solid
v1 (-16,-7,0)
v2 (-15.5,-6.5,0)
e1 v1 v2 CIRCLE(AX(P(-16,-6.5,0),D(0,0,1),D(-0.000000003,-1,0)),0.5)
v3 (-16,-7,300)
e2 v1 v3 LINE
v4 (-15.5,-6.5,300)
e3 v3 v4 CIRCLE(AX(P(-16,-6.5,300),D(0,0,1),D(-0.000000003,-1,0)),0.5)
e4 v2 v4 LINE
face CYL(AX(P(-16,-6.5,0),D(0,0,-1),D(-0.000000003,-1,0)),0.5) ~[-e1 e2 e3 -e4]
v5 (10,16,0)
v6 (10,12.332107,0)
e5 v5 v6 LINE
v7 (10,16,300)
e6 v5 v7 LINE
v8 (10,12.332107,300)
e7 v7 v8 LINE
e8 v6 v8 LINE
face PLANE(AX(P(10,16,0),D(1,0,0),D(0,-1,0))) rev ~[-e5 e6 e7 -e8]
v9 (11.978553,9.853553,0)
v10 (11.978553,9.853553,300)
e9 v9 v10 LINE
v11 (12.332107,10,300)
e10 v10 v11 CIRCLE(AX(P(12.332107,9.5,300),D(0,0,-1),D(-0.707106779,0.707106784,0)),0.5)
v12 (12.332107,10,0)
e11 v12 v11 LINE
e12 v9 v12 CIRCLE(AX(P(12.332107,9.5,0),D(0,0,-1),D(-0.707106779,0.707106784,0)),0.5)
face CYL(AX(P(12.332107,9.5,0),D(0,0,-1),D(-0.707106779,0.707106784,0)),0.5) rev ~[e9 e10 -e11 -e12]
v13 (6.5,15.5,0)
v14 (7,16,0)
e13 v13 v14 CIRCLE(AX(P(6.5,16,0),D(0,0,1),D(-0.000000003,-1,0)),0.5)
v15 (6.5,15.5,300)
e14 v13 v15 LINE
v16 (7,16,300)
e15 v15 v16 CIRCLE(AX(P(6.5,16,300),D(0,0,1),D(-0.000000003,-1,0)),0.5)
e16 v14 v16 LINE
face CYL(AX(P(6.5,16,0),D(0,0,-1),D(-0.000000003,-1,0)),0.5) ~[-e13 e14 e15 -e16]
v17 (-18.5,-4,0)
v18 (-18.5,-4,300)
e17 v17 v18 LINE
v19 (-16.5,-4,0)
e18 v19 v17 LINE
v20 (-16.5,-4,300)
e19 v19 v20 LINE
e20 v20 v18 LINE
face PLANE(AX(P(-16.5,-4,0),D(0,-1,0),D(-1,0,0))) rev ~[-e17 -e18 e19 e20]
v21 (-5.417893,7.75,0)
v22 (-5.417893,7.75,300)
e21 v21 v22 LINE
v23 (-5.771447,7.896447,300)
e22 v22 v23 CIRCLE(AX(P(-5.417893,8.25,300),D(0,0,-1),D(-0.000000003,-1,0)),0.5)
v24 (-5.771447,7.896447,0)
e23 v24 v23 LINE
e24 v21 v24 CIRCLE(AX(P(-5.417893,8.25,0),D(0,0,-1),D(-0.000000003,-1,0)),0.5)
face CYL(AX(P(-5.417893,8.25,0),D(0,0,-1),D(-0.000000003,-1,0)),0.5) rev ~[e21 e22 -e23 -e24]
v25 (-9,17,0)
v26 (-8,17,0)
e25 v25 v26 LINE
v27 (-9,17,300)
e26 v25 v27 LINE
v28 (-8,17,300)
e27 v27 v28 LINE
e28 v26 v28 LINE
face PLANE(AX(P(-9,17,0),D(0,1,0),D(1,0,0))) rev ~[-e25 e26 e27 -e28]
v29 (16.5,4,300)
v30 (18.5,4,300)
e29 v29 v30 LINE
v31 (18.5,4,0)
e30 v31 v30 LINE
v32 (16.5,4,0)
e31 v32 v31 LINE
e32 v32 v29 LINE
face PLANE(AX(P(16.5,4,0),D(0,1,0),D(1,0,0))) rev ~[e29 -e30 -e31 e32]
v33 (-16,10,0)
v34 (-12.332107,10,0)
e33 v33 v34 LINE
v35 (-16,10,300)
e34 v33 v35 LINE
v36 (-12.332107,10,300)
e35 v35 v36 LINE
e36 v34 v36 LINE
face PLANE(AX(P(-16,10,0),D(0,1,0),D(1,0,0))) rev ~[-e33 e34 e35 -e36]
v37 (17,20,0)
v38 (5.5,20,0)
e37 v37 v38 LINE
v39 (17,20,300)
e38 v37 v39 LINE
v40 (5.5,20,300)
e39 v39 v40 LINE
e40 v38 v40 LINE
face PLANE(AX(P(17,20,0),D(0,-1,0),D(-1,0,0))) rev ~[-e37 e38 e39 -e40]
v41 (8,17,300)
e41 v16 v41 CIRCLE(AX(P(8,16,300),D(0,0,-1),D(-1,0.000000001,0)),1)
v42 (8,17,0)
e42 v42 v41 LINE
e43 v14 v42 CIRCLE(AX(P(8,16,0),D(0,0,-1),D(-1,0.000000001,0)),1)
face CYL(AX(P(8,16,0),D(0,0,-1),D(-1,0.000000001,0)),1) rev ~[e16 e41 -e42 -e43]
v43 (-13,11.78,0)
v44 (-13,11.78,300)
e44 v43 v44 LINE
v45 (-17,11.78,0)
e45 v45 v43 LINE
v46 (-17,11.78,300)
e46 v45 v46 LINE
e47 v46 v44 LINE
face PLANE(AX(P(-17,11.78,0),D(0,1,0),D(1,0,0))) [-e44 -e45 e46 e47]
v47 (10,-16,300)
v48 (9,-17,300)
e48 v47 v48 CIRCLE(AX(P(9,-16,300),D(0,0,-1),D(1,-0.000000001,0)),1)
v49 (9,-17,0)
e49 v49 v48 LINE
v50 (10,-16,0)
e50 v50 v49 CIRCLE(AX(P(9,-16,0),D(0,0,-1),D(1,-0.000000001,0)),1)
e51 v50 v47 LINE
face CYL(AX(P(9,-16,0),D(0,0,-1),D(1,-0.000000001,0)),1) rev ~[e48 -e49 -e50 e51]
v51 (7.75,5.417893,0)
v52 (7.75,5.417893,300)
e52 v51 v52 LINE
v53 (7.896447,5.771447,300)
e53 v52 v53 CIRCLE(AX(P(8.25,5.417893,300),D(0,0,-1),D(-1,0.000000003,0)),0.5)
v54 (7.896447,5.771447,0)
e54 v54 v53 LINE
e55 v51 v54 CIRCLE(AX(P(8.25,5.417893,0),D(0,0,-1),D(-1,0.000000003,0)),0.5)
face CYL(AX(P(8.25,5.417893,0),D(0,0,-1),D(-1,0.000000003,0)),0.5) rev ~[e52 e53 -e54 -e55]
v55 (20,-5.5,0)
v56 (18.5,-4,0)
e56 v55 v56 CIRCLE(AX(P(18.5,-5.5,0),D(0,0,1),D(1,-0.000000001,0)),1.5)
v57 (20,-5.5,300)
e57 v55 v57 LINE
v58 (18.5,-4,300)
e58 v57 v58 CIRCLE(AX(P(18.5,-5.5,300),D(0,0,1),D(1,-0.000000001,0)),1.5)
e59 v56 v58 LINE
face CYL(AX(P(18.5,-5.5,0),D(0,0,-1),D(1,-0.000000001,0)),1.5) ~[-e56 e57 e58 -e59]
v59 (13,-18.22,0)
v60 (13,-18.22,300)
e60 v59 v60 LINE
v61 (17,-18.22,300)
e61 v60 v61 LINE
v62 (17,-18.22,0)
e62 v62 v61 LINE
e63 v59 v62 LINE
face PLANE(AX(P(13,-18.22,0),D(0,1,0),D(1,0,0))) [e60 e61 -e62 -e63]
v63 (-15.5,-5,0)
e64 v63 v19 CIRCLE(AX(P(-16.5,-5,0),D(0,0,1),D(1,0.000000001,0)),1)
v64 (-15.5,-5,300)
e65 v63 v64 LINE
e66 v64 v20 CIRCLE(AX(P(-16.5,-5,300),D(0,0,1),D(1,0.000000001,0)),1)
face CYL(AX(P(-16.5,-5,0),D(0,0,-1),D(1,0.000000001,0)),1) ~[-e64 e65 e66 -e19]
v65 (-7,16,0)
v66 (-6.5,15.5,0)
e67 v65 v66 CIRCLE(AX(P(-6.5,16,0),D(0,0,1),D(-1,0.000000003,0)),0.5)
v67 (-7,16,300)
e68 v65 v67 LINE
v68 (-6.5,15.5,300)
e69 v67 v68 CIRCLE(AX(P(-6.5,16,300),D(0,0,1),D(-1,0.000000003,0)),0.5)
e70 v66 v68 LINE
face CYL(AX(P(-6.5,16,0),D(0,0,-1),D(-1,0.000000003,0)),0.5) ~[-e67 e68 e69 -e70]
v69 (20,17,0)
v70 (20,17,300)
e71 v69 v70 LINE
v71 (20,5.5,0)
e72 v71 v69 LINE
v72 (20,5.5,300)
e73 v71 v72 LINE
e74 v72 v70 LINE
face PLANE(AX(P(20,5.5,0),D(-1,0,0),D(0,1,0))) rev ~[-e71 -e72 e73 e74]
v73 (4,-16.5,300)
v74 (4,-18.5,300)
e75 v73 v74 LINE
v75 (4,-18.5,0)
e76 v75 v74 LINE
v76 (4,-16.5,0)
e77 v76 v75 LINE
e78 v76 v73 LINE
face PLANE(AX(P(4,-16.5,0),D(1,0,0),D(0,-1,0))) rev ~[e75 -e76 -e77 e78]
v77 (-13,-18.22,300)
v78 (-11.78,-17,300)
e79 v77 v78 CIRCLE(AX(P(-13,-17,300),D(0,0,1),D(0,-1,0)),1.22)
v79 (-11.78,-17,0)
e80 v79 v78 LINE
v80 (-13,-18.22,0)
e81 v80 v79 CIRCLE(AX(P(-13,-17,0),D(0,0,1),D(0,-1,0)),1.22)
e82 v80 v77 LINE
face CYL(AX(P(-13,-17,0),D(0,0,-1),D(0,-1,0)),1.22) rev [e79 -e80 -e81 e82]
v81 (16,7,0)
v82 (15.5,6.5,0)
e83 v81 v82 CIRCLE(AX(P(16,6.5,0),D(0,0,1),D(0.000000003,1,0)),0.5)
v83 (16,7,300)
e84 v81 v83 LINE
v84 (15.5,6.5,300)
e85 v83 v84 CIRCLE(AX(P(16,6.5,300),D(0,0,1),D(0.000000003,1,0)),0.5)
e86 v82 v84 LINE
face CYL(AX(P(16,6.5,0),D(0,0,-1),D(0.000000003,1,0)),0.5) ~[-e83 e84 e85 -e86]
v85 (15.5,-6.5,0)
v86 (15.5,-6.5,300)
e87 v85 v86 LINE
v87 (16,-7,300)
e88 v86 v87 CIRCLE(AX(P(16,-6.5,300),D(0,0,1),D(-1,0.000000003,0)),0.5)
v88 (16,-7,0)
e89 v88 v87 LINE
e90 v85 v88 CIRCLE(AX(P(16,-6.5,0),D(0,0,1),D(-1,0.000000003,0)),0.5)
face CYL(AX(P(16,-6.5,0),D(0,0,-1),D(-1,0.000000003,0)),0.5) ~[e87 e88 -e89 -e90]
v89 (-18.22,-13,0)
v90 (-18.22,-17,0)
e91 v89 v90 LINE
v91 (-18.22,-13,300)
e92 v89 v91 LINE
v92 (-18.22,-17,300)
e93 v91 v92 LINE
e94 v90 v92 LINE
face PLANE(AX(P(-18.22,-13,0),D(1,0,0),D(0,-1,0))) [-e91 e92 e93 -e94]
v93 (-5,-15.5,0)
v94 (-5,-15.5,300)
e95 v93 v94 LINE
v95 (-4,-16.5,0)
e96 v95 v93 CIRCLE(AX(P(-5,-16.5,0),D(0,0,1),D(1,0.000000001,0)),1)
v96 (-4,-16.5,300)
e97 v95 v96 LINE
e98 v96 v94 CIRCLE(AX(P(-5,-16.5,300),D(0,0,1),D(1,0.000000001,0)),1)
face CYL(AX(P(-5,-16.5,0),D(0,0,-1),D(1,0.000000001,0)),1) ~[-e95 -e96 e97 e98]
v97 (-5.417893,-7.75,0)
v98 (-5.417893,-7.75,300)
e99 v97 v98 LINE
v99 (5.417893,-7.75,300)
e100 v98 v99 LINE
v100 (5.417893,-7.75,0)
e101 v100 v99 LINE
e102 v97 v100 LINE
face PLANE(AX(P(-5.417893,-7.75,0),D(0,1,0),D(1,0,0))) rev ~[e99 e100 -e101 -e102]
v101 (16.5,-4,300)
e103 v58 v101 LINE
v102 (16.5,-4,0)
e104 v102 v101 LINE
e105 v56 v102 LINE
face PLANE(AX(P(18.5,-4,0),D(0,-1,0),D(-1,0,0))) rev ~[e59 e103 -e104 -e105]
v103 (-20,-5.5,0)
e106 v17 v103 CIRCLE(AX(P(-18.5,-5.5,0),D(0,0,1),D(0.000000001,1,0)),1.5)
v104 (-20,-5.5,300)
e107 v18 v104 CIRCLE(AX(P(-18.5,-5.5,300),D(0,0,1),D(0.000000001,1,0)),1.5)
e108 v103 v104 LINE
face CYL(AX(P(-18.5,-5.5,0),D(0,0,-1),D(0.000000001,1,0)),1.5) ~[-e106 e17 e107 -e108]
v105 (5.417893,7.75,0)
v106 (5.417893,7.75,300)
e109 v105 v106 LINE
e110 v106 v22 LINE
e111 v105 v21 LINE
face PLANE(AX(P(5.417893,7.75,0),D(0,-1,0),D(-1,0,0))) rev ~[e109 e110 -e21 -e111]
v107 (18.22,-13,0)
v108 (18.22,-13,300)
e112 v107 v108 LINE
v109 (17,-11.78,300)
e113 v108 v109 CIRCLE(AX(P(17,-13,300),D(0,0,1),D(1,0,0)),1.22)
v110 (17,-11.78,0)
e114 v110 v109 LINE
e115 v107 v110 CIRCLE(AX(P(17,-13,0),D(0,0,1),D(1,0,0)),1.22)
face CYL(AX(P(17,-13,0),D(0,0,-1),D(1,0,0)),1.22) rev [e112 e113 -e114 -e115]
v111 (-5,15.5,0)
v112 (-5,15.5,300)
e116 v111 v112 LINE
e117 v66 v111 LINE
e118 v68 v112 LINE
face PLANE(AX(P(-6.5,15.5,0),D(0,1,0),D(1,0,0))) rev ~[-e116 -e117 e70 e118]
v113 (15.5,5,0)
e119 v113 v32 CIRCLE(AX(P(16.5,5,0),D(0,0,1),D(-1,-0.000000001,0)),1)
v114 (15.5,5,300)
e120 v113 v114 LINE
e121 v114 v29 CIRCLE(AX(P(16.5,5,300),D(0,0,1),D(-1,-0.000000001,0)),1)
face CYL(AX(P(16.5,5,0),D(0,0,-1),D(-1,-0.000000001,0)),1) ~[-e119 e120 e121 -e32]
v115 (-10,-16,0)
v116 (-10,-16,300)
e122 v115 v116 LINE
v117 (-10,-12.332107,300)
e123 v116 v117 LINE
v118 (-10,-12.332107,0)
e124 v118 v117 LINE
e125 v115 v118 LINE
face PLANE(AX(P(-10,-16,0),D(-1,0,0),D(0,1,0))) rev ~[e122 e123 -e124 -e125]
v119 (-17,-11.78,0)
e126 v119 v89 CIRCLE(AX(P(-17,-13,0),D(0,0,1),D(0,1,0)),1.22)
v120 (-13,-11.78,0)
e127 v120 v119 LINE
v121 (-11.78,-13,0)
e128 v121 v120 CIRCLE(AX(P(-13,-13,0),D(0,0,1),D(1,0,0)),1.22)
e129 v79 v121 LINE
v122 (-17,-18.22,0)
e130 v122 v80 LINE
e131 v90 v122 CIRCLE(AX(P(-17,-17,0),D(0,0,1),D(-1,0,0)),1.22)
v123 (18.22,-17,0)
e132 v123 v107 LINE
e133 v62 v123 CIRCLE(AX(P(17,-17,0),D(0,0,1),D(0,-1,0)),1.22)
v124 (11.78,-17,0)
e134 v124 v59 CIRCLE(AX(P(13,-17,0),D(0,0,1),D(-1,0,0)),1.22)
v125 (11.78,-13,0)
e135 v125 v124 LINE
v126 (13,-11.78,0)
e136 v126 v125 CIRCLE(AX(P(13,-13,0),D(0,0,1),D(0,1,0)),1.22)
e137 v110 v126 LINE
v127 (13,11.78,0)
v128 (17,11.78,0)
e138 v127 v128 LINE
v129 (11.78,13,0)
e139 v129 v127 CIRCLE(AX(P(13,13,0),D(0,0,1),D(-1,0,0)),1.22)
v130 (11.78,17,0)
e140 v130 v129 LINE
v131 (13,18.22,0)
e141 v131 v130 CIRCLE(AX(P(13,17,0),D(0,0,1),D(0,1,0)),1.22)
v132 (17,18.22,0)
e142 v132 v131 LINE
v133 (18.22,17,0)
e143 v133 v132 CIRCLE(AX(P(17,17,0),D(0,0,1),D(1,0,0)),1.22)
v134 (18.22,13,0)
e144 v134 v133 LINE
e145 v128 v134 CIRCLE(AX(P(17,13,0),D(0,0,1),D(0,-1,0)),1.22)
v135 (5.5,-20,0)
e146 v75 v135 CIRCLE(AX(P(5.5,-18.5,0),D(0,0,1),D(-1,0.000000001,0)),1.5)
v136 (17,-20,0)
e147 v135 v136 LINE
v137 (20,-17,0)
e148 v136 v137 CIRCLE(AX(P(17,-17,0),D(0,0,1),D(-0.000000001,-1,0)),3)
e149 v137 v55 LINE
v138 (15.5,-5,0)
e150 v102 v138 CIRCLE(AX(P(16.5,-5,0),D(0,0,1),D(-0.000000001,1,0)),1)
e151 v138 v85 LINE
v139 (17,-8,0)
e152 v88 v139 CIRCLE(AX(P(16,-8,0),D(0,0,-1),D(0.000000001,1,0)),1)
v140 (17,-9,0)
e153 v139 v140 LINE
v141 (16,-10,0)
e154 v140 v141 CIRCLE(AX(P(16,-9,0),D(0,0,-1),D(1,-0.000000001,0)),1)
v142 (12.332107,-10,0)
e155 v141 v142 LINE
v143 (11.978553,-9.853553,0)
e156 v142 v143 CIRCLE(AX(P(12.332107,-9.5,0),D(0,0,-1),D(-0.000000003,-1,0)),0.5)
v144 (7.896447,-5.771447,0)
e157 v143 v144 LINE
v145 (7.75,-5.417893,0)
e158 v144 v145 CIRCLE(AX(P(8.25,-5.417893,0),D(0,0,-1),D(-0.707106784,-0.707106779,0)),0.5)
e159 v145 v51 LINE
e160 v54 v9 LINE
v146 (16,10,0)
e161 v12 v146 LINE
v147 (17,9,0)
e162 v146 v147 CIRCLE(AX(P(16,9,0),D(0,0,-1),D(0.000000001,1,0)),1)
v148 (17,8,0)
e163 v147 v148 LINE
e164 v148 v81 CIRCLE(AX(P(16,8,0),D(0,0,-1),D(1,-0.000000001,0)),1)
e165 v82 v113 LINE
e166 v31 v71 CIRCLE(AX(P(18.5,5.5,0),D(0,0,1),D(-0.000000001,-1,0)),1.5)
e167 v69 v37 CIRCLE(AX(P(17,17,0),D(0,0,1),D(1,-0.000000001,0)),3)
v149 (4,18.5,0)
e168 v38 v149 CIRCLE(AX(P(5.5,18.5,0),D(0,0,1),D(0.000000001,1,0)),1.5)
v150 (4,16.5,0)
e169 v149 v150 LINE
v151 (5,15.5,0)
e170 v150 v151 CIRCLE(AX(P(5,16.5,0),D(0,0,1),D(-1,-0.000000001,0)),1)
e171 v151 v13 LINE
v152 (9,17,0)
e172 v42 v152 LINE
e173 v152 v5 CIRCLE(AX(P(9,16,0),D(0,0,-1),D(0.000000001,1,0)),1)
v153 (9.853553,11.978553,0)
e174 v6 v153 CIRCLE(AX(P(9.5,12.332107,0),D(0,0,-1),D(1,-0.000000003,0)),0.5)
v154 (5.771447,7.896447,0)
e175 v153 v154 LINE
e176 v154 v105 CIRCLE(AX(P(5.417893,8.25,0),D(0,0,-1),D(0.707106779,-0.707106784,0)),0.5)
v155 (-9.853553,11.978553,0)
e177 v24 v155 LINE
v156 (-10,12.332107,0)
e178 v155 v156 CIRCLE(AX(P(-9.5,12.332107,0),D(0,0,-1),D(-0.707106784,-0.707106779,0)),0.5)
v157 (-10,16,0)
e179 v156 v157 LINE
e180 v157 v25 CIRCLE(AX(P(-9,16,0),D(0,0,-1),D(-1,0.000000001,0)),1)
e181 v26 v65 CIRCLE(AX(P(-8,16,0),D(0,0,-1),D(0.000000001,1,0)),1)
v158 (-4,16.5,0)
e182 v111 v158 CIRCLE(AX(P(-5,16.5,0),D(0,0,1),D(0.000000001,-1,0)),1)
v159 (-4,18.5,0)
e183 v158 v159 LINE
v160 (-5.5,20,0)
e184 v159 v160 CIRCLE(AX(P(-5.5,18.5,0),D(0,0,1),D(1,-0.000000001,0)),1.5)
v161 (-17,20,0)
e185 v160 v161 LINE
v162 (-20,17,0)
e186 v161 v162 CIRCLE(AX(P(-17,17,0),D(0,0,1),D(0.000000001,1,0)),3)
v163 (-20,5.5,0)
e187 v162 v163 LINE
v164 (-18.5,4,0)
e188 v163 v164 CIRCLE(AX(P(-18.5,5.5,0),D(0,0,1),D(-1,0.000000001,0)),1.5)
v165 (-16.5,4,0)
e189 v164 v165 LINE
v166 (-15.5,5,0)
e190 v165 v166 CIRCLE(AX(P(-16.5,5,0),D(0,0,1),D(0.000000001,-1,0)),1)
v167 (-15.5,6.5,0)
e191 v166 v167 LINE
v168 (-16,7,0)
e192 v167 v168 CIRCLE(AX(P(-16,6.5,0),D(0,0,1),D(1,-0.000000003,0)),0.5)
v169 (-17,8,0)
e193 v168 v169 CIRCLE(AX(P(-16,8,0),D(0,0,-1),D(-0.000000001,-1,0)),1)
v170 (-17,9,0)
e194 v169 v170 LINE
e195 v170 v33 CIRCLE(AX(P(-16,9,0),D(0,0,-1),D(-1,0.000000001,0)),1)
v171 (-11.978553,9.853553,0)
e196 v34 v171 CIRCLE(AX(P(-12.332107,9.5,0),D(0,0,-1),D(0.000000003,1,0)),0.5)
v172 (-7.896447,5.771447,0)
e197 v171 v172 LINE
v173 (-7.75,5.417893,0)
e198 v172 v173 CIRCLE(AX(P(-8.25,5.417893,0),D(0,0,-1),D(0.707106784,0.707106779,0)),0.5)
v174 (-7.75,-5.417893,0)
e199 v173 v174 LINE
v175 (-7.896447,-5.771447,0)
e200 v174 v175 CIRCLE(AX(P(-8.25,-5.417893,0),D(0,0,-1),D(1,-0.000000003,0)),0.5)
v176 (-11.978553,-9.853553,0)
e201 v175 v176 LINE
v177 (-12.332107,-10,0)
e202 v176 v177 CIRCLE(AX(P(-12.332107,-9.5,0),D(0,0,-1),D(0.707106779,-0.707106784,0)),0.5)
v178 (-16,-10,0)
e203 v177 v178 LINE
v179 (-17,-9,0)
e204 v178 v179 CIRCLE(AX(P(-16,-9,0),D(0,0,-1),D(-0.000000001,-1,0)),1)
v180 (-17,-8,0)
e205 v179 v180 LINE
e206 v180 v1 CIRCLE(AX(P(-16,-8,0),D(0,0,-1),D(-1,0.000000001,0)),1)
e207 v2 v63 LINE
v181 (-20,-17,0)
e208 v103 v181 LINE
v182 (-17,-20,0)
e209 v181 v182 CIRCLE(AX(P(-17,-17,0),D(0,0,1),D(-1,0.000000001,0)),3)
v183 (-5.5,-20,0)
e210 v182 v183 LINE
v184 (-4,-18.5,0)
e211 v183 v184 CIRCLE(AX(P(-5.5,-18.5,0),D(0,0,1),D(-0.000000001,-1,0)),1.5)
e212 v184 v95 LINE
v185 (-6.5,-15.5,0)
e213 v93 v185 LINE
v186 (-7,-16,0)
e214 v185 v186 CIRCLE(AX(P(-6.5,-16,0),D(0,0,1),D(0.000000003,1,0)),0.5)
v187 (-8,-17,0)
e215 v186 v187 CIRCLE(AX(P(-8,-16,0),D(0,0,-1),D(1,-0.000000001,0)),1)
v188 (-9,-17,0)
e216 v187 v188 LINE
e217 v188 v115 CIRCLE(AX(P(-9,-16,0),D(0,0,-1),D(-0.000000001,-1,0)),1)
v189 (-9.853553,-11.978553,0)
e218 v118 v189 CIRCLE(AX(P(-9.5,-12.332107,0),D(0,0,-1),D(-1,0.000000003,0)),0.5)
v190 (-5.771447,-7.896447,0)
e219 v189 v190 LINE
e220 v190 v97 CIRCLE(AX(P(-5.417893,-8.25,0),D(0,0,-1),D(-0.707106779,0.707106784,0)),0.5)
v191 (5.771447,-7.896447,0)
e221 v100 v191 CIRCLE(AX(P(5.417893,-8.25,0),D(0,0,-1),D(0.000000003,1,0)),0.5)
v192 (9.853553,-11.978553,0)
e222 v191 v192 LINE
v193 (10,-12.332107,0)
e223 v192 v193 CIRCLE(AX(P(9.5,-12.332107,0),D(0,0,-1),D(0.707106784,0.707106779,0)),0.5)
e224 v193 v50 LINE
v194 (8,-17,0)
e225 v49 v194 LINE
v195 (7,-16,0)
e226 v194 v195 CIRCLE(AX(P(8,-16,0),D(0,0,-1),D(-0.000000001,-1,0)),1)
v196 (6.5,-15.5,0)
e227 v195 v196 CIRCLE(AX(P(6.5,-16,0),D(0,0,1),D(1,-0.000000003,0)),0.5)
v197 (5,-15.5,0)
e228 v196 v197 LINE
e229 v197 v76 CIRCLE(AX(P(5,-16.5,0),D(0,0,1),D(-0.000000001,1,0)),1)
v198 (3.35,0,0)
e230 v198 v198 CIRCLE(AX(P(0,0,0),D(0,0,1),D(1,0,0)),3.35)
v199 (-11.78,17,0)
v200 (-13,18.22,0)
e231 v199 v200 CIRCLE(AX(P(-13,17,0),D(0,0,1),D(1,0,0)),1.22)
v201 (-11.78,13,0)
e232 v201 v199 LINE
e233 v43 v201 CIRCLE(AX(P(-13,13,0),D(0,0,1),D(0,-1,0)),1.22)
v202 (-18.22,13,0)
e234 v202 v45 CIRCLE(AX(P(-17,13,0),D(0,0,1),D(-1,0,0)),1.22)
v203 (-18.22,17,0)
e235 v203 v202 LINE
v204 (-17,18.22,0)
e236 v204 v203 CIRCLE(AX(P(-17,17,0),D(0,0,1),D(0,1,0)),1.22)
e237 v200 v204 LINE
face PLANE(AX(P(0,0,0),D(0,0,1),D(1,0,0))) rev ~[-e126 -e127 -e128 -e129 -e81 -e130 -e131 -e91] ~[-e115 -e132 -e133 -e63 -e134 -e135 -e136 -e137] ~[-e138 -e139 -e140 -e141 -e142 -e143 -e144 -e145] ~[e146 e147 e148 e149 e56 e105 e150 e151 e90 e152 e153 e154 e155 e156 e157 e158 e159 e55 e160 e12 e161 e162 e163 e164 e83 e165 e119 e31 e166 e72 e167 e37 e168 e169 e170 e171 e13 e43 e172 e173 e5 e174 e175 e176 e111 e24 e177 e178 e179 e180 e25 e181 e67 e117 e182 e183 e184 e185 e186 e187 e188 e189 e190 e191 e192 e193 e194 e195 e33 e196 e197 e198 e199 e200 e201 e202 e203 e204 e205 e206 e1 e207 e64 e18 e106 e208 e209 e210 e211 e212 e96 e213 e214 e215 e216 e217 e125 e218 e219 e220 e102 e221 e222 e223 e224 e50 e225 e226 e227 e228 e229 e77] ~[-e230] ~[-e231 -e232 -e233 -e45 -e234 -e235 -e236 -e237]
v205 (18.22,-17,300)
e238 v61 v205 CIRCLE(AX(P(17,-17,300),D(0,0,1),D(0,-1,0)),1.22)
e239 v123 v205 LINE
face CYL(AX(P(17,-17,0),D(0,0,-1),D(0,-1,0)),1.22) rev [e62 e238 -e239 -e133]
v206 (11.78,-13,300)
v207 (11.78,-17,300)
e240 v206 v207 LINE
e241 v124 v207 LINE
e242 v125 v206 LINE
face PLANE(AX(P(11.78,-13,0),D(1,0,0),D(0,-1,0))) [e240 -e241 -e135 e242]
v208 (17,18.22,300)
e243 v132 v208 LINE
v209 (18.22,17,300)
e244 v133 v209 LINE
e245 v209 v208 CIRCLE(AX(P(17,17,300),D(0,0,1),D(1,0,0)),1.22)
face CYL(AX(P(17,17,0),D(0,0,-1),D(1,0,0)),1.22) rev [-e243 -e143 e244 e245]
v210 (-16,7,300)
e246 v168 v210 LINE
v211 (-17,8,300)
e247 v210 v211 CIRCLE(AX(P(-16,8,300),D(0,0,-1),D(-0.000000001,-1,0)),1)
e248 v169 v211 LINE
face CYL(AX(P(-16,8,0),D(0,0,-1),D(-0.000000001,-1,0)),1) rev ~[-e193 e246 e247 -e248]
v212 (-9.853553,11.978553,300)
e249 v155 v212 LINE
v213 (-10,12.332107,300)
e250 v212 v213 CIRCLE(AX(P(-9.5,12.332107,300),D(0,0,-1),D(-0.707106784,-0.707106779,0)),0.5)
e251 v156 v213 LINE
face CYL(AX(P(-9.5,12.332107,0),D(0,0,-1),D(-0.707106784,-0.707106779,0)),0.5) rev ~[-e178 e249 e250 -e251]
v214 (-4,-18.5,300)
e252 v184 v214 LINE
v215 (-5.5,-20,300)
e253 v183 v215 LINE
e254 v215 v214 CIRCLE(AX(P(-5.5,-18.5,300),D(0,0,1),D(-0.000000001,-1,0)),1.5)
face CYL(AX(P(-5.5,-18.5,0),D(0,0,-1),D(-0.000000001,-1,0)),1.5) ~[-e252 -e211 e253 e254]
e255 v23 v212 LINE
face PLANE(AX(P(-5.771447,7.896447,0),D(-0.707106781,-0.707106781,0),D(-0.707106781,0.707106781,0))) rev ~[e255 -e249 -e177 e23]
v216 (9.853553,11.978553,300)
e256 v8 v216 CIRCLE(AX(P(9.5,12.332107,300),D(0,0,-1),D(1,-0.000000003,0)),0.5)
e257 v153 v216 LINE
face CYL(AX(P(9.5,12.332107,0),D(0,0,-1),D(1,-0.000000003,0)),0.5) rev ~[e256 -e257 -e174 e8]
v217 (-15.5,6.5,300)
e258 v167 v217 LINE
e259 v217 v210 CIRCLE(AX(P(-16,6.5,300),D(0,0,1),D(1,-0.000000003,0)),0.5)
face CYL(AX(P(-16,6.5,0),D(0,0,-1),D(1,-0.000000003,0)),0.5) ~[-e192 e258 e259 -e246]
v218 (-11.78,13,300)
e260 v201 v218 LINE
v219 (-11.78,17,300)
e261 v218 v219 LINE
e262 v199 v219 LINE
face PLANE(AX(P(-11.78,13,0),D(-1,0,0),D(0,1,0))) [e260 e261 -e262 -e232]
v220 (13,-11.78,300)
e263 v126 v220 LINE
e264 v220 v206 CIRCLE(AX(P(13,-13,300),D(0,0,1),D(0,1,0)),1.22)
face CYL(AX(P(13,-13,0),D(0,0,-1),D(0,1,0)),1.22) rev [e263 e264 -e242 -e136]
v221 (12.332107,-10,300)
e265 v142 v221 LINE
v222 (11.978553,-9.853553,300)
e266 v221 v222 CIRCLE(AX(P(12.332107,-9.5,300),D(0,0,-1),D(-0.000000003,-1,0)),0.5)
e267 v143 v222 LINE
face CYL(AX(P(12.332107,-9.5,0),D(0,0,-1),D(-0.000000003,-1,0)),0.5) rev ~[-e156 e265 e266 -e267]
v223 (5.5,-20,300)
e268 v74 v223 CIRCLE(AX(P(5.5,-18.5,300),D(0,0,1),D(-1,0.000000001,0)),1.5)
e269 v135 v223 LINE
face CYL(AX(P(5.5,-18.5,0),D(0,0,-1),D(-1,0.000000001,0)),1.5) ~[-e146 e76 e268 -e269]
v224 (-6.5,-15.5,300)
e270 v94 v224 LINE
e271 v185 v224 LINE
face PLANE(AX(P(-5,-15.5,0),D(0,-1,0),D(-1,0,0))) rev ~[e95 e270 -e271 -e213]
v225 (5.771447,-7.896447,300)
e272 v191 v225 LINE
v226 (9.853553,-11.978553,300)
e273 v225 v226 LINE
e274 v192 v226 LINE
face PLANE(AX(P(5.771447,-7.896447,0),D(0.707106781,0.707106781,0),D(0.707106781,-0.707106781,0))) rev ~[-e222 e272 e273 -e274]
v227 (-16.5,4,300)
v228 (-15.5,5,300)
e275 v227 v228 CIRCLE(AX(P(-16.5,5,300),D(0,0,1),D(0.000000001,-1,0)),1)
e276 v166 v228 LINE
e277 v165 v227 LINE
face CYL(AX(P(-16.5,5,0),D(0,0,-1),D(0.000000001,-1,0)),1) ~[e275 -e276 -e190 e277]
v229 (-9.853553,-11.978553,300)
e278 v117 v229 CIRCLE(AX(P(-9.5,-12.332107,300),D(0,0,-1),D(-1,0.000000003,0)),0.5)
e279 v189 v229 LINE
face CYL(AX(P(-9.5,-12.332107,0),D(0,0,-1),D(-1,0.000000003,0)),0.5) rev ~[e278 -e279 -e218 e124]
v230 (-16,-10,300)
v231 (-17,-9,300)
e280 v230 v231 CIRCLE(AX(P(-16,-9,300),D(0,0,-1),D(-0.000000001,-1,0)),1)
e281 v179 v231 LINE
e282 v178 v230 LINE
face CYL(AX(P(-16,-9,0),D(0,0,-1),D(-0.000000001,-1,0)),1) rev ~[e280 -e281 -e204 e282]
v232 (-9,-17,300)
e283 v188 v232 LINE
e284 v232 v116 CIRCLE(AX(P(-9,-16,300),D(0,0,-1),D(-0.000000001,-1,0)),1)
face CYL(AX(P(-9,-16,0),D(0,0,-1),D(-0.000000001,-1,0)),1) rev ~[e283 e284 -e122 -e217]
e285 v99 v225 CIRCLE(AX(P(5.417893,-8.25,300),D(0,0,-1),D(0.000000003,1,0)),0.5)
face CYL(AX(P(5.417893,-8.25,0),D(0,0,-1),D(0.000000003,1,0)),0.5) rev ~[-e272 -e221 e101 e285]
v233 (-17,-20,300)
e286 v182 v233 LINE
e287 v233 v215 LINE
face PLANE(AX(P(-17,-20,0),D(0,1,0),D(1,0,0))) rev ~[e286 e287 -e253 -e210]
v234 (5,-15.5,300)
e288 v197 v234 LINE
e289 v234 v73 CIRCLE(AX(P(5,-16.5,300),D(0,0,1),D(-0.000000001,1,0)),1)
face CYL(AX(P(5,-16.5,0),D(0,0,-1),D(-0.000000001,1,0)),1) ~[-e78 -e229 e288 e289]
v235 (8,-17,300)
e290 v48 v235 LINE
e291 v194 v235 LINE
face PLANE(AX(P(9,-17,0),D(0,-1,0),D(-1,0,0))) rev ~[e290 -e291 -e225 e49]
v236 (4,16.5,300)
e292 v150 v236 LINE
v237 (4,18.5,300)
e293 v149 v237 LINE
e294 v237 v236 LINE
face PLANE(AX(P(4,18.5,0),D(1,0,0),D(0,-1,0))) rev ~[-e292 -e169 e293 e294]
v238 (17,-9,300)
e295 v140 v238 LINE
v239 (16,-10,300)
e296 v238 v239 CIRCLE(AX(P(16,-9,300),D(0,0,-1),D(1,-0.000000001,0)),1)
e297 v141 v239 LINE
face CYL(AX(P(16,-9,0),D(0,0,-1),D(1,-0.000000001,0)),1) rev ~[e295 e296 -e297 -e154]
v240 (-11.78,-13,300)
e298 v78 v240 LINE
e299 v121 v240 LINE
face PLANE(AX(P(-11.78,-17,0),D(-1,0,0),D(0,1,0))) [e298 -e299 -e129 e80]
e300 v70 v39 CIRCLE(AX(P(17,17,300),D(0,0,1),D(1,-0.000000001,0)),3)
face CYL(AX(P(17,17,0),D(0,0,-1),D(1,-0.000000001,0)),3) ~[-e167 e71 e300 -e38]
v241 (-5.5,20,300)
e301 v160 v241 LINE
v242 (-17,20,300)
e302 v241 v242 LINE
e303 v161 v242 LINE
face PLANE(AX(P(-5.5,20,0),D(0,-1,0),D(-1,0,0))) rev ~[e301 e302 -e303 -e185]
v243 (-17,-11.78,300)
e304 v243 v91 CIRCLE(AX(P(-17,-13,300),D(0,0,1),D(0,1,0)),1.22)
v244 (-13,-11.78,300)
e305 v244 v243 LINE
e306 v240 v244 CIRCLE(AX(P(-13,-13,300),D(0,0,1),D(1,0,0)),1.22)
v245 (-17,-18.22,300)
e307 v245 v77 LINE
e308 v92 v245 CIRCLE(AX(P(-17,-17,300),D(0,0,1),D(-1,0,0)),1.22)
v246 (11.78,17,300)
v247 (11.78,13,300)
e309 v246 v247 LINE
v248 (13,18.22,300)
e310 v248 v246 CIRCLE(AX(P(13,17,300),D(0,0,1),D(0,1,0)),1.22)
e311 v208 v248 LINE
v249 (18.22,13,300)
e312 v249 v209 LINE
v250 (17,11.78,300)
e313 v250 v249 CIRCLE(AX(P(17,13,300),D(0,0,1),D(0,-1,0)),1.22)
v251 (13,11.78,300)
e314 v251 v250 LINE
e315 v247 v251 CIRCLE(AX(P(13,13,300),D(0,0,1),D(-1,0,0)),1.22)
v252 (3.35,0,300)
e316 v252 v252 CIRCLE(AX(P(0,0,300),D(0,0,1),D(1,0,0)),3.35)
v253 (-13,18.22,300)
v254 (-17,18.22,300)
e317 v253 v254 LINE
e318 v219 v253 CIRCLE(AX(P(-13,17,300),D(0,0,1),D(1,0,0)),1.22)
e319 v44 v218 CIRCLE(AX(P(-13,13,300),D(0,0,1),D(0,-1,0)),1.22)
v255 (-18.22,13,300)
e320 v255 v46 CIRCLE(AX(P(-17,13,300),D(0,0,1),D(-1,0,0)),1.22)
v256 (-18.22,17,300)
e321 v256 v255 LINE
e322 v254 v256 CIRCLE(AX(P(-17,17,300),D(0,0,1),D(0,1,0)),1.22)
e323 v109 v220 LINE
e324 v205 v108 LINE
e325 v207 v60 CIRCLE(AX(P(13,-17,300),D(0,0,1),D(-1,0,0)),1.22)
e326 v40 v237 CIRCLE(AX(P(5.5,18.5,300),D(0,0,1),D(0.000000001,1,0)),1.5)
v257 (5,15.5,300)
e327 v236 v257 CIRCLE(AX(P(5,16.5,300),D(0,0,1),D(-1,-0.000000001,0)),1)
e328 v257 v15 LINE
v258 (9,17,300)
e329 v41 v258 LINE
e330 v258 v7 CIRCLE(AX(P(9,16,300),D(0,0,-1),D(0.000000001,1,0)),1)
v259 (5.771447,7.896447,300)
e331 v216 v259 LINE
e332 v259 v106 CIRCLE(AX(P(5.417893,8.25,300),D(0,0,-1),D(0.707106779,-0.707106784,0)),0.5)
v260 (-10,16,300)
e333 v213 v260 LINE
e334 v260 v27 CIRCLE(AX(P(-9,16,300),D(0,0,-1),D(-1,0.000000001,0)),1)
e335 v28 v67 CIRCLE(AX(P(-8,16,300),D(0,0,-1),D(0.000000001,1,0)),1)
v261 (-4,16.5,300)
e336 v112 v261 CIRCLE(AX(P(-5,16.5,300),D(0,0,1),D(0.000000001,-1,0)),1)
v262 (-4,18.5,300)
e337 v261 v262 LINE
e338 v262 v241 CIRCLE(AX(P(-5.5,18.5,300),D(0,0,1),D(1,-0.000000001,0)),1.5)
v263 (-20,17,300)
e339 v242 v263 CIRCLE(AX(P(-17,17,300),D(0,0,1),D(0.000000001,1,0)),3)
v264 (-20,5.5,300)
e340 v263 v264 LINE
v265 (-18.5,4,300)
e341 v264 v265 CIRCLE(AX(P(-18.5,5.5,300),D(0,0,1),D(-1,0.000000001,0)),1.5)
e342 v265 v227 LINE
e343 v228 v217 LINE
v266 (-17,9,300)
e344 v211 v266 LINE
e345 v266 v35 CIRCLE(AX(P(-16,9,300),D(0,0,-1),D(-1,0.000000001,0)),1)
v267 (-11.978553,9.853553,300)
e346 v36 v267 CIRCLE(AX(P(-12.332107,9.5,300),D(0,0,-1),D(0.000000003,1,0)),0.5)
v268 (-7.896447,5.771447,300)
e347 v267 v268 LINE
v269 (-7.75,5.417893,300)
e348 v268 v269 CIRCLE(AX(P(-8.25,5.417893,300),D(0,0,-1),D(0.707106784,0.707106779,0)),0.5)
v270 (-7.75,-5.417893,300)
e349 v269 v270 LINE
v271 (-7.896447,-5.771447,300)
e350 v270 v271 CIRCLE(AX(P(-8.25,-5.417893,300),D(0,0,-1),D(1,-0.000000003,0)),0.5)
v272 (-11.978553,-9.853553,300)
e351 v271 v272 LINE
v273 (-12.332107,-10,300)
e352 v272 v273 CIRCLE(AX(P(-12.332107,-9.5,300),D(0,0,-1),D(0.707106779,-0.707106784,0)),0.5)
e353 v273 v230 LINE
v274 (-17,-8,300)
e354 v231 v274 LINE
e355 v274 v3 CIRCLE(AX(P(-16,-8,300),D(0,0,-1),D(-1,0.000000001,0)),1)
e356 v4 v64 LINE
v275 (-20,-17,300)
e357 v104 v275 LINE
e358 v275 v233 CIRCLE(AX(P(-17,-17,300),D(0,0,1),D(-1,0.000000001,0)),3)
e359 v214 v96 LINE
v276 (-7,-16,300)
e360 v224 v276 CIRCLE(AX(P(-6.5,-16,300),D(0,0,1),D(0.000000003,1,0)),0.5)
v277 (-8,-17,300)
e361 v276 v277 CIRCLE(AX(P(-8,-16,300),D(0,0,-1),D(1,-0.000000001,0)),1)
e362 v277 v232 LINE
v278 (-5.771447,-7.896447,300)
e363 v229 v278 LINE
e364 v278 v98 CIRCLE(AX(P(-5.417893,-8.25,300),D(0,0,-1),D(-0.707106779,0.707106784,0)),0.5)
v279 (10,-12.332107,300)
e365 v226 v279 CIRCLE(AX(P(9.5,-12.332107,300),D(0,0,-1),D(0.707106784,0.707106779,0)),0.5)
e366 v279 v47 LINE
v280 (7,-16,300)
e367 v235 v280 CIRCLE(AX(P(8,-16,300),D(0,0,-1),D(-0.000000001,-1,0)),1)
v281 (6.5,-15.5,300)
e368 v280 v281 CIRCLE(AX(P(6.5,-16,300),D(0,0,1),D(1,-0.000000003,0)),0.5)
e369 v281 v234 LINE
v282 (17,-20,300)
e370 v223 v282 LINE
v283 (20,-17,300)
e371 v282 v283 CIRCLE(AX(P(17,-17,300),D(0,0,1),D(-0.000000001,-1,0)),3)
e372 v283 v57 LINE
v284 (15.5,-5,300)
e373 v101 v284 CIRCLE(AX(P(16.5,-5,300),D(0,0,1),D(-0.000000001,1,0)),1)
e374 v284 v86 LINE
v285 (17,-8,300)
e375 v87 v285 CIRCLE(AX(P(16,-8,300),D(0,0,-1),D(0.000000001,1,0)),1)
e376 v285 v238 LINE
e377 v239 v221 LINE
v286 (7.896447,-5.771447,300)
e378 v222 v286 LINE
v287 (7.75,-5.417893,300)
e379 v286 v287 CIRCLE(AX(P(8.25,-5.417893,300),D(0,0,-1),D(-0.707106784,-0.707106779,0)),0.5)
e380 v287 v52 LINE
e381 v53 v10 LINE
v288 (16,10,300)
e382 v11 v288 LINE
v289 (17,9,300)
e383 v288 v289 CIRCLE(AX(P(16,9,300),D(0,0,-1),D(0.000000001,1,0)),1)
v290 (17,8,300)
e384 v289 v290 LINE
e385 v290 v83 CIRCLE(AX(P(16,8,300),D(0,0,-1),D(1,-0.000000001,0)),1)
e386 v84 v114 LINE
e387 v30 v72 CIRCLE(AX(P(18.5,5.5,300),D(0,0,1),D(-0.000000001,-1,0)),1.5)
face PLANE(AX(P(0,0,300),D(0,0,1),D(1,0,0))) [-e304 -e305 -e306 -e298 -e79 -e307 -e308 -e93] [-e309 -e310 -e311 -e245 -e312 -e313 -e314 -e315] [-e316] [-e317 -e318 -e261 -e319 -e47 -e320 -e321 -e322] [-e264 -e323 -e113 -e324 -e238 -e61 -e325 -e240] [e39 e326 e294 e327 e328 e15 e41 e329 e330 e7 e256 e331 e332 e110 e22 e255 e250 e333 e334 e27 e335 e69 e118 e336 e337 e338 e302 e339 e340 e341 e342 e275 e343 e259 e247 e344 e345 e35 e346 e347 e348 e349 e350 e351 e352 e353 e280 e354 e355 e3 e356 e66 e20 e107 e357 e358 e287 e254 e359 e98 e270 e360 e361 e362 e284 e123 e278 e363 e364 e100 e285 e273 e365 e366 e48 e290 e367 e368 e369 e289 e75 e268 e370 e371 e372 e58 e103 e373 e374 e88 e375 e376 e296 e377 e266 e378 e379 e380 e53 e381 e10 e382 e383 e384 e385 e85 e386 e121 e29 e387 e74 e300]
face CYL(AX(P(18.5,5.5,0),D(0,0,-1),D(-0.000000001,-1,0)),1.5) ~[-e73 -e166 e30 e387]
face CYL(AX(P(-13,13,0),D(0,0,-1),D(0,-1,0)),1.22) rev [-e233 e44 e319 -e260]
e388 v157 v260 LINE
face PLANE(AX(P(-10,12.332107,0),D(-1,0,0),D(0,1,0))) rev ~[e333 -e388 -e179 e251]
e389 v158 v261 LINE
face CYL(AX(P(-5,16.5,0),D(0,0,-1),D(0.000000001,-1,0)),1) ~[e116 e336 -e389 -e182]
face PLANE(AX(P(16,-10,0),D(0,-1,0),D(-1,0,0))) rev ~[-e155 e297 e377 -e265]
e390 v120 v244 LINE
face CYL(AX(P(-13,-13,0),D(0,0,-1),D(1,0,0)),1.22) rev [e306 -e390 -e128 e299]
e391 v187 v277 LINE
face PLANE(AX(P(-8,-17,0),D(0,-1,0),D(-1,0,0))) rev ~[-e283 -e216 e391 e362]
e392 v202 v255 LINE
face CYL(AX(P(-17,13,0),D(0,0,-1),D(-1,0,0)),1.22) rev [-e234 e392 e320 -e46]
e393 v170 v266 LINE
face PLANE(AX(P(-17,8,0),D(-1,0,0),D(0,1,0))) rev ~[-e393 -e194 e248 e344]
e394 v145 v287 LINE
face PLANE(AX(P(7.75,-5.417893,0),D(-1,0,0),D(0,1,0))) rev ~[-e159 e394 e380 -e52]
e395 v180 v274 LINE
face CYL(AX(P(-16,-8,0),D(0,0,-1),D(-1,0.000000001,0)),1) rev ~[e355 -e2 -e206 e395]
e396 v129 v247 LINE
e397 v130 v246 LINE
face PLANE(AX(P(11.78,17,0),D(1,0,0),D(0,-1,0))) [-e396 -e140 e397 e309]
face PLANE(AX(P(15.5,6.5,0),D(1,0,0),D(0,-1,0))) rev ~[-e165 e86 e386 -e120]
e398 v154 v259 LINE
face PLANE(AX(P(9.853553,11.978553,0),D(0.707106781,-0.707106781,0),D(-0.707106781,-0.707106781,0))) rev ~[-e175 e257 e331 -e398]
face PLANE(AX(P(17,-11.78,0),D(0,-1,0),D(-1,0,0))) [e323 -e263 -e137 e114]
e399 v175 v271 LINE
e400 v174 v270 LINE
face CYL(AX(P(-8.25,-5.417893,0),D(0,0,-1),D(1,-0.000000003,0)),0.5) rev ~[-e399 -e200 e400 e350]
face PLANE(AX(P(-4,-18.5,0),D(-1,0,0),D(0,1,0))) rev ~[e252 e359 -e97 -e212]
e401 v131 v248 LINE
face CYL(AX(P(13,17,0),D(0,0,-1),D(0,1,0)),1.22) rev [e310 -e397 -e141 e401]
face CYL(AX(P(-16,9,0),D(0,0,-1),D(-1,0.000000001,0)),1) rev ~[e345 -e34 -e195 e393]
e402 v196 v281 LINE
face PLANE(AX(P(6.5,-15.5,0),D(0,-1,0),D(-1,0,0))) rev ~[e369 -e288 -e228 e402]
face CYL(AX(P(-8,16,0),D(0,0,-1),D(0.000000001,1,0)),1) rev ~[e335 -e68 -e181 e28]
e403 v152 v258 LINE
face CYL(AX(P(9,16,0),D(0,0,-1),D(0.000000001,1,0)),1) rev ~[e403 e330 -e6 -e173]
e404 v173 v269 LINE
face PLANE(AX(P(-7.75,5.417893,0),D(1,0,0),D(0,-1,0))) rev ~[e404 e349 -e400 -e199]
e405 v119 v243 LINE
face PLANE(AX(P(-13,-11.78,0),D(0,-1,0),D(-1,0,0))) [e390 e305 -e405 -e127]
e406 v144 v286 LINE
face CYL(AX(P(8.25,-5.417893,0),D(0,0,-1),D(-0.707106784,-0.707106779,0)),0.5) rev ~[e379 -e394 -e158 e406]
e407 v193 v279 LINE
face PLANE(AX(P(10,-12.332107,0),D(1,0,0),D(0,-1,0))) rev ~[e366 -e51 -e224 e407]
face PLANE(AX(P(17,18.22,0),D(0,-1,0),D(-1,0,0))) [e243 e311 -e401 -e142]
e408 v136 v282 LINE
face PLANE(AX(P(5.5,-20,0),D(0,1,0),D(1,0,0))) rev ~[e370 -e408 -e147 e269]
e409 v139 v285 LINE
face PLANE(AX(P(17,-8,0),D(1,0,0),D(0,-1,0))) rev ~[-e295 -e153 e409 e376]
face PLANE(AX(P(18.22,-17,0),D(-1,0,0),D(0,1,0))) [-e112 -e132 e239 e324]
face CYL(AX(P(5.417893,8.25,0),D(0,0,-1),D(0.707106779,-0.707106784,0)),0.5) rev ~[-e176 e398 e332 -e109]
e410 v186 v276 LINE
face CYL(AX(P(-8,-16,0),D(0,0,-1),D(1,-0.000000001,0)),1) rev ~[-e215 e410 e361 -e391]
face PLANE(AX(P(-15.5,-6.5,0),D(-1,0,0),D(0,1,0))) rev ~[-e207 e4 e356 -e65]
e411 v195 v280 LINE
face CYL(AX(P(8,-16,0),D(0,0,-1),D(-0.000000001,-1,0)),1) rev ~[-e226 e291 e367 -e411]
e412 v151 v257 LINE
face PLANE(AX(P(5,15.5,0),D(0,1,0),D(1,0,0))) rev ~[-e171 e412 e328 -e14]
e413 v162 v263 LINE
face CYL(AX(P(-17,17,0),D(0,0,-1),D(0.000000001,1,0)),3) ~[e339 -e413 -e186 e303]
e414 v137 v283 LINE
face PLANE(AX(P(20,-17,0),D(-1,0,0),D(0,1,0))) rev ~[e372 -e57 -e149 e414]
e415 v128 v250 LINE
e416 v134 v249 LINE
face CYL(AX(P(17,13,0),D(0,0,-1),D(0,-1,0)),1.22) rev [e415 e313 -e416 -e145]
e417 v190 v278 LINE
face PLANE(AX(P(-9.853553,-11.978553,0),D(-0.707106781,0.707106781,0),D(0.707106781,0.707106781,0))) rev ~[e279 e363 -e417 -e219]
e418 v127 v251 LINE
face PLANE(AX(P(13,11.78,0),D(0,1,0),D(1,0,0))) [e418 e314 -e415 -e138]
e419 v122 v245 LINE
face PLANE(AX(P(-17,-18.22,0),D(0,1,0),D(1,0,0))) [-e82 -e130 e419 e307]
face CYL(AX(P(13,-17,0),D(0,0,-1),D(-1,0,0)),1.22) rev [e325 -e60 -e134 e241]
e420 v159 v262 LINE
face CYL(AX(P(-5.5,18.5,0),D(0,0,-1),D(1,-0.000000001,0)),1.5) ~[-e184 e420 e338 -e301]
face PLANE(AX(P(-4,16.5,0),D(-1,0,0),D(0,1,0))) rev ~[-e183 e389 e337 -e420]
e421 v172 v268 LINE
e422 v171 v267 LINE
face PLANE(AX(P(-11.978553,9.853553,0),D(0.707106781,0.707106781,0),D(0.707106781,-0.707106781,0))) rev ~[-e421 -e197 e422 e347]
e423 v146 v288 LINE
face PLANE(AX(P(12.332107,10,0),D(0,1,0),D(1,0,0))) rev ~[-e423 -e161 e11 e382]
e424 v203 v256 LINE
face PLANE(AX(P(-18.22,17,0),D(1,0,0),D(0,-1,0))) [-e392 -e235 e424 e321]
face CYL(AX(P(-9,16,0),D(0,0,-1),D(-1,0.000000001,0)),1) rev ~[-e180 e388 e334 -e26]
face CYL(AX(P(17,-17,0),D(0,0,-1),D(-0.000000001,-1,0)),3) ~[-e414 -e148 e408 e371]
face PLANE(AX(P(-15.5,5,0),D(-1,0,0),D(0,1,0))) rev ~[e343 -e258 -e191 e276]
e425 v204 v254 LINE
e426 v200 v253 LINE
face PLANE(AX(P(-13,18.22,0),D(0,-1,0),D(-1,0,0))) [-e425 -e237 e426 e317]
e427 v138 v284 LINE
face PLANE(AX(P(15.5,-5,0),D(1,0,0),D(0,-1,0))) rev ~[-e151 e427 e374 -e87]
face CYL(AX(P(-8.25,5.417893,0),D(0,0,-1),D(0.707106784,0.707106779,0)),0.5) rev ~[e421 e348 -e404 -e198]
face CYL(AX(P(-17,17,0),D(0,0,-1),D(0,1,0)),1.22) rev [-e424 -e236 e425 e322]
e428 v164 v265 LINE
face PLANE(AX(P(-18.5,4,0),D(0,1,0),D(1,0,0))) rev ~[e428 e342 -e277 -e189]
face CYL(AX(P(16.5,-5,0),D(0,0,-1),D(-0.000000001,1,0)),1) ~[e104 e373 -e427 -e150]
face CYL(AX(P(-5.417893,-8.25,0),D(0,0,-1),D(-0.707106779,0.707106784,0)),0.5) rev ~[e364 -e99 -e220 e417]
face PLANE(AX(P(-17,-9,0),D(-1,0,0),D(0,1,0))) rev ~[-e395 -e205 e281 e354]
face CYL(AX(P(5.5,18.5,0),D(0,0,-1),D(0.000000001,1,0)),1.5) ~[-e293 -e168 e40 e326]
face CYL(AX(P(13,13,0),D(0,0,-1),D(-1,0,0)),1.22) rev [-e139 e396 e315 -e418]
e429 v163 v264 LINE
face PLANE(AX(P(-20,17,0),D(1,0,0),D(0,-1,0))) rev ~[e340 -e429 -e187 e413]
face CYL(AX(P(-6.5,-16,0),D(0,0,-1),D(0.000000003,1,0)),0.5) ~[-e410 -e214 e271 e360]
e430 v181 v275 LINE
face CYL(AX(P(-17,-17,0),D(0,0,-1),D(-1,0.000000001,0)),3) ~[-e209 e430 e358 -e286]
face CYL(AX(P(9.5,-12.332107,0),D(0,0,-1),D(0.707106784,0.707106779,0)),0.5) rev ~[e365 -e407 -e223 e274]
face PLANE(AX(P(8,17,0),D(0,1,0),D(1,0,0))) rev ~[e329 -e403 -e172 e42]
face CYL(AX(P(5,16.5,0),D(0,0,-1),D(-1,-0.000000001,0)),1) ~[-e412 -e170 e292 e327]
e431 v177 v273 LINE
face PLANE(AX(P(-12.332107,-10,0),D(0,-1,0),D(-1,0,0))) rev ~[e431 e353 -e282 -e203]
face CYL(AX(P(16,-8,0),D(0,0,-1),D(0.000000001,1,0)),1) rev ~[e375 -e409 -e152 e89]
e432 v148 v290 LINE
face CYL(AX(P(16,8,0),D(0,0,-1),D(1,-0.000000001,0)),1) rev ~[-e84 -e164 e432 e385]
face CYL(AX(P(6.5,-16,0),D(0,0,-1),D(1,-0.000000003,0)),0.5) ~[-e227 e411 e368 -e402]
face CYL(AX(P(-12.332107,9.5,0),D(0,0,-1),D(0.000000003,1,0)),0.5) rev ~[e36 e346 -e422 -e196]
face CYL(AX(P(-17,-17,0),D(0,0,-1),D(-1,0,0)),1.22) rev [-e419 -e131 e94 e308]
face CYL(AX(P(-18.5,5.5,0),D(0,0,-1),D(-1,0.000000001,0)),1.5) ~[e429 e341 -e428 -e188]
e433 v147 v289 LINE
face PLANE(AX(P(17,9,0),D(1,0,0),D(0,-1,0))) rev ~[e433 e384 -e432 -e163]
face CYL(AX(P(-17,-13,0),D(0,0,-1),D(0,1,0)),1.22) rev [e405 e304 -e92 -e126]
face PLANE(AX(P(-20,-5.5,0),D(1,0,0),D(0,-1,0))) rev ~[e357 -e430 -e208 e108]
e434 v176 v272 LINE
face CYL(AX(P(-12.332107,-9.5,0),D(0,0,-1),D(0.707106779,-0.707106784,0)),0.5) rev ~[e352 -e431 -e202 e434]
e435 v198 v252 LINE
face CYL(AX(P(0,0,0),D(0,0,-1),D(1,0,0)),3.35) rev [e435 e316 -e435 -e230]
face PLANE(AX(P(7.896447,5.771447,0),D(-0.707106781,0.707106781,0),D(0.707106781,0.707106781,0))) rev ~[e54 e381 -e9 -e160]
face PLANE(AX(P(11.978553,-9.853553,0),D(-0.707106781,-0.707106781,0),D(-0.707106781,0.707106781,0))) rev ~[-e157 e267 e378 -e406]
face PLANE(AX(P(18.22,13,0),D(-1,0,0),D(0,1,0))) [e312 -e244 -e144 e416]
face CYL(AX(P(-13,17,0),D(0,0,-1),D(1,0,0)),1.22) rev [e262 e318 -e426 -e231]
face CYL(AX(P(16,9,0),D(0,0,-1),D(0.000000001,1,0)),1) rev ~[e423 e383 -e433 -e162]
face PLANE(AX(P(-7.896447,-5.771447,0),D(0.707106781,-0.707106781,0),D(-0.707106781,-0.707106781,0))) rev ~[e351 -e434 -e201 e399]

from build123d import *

# Parameters (mm, degrees)
SKETCH1_R           = 3.35
BOSS_EXTRUDE1_DEPTH = 300


with BuildPart() as part:
    # Sketch1 → Boss-Extrude1 (new body)
    with BuildSketch(Plane.XY):
        with BuildLine():
            Line((-9.853553391, -11.978553391), (-5.771446609, -7.896446609))
            ThreePointArc((-5.771446609, -7.896446609), (-5.609234935, -7.788060234), (-5.417893219, -7.75))
            Line((-5.417893219, -7.75), (5.417893219, -7.75))
            ThreePointArc((5.417893219, -7.75), (5.609234935, -7.788060234), (5.771446609, -7.896446609))
            Line((5.771446609, -7.896446609), (9.853553391, -11.978553391))
            ThreePointArc((9.853553391, -11.978553391), (9.961939766, -12.140765065), (10, -12.332106781))
            Line((10, -12.332106781), (10, -16))
            ThreePointArc((10, -16), (9.707106781, -16.707106781), (9, -17))
            Line((9, -17), (8, -17))
            ThreePointArc((8, -17), (7.292893219, -16.707106781), (7, -16))
            ThreePointArc((7, -16), (6.853553391, -15.646446609), (6.5, -15.5))
            Line((6.5, -15.5), (5, -15.5))
            ThreePointArc((5, -15.5), (4.292893219, -15.792893219), (4, -16.5))
            Line((4, -16.5), (4, -18.5))
            ThreePointArc((4, -18.5), (4.439339828, -19.560660172), (5.5, -20))
            Line((5.5, -20), (17, -20))
            ThreePointArc((17, -20), (19.121320344, -19.121320344), (20, -17))
            Line((20, -17), (20, -5.5))
            ThreePointArc((20, -5.5), (19.560660172, -4.439339828), (18.5, -4))
            Line((18.5, -4), (16.5, -4))
            ThreePointArc((16.5, -4), (15.792893219, -4.292893219), (15.5, -5))
            Line((15.5, -5), (15.5, -6.5))
            ThreePointArc((15.5, -6.5), (15.646446609, -6.853553391), (16, -7))
            ThreePointArc((16, -7), (16.707106781, -7.292893219), (17, -8))
            Line((17, -8), (17, -9))
            ThreePointArc((17, -9), (16.707106781, -9.707106781), (16, -10))
            Line((16, -10), (12.332106781, -10))
            ThreePointArc((12.332106781, -10), (12.140765065, -9.961939766), (11.978553391, -9.853553391))
            Line((11.978553391, -9.853553391), (7.896446609, -5.771446609))
            ThreePointArc((7.896446609, -5.771446609), (7.788060234, -5.609234935), (7.75, -5.417893219))
            Line((7.75, -5.417893219), (7.75, 5.417893219))
            ThreePointArc((7.75, 5.417893219), (7.788060234, 5.609234935), (7.896446609, 5.771446609))
            Line((7.896446609, 5.771446609), (11.978553391, 9.853553391))
            ThreePointArc((11.978553391, 9.853553391), (12.140765065, 9.961939766), (12.332106781, 10))
            Line((12.332106781, 10), (16, 10))
            ThreePointArc((16, 10), (16.707106781, 9.707106781), (17, 9))
            Line((17, 9), (17, 8))
            ThreePointArc((17, 8), (16.707106781, 7.292893219), (16, 7))
            ThreePointArc((16, 7), (15.646446609, 6.853553391), (15.5, 6.5))
            Line((15.5, 6.5), (15.5, 5))
            ThreePointArc((15.5, 5), (15.792893219, 4.292893219), (16.5, 4))
            Line((16.5, 4), (18.5, 4))
            ThreePointArc((18.5, 4), (19.560660172, 4.439339828), (20, 5.5))
            Line((20, 5.5), (20, 17))
            ThreePointArc((20, 17), (19.121320344, 19.121320344), (17, 20))
            Line((17, 20), (5.5, 20))
            ThreePointArc((5.5, 20), (4.439339828, 19.560660172), (4, 18.5))
            Line((4, 18.5), (4, 16.5))
            ThreePointArc((4, 16.5), (4.292893219, 15.792893219), (5, 15.5))
            Line((5, 15.5), (6.5, 15.5))
            ThreePointArc((6.5, 15.5), (6.853553391, 15.646446609), (7, 16))
            ThreePointArc((7, 16), (7.292893219, 16.707106781), (8, 17))
            Line((8, 17), (9, 17))
            ThreePointArc((9, 17), (9.707106781, 16.707106781), (10, 16))
            Line((10, 16), (10, 12.332106781))
            ThreePointArc((10, 12.332106781), (9.961939766, 12.140765065), (9.853553391, 11.978553391))
            Line((9.853553391, 11.978553391), (5.771446609, 7.896446609))
            ThreePointArc((5.771446609, 7.896446609), (5.609234935, 7.788060234), (5.417893219, 7.75))
            Line((5.417893219, 7.75), (-5.417893219, 7.75))
            ThreePointArc((-5.417893219, 7.75), (-5.609234935, 7.788060234), (-5.771446609, 7.896446609))
            Line((-5.771446609, 7.896446609), (-9.853553391, 11.978553391))
            ThreePointArc((-9.853553391, 11.978553391), (-9.961939766, 12.140765065), (-10, 12.332106781))
            Line((-10, 12.332106781), (-10, 16))
            ThreePointArc((-10, 16), (-9.707106781, 16.707106781), (-9, 17))
            Line((-9, 17), (-8, 17))
            ThreePointArc((-8, 17), (-7.292893219, 16.707106781), (-7, 16))
            ThreePointArc((-7, 16), (-6.853553391, 15.646446609), (-6.5, 15.5))
            Line((-6.5, 15.5), (-5, 15.5))
            ThreePointArc((-5, 15.5), (-4.292893219, 15.792893219), (-4, 16.5))
            Line((-4, 16.5), (-4, 18.5))
            ThreePointArc((-4, 18.5), (-4.439339828, 19.560660172), (-5.5, 20))
            Line((-5.5, 20), (-17, 20))
            ThreePointArc((-17, 20), (-19.121320344, 19.121320344), (-20, 17))
            Line((-20, 17), (-20, 5.5))
            ThreePointArc((-20, 5.5), (-19.560660172, 4.439339828), (-18.5, 4))
            Line((-18.5, 4), (-16.5, 4))
            ThreePointArc((-16.5, 4), (-15.792893219, 4.292893219), (-15.5, 5))
            Line((-15.5, 5), (-15.5, 6.5))
            ThreePointArc((-15.5, 6.5), (-15.646446609, 6.853553391), (-16, 7))
            ThreePointArc((-16, 7), (-16.707106781, 7.292893219), (-17, 8))
            Line((-17, 8), (-17, 9))
            ThreePointArc((-17, 9), (-16.707106781, 9.707106781), (-16, 10))
            Line((-16, 10), (-12.332106781, 10))
            ThreePointArc((-12.332106781, 10), (-12.140765065, 9.961939766), (-11.978553391, 9.853553391))
            Line((-11.978553391, 9.853553391), (-7.896446609, 5.771446609))
            ThreePointArc((-7.896446609, 5.771446609), (-7.788060234, 5.609234935), (-7.75, 5.417893219))
            Line((-7.75, 5.417893219), (-7.75, -5.417893219))
            ThreePointArc((-7.75, -5.417893219), (-7.788060234, -5.609234935), (-7.896446609, -5.771446609))
            Line((-7.896446609, -5.771446609), (-11.978553391, -9.853553391))
            ThreePointArc((-11.978553391, -9.853553391), (-12.140765065, -9.961939766), (-12.332106781, -10))
            Line((-12.332106781, -10), (-16, -10))
            ThreePointArc((-16, -10), (-16.707106781, -9.707106781), (-17, -9))
            Line((-17, -9), (-17, -8))
            ThreePointArc((-17, -8), (-16.707106781, -7.292893219), (-16, -7))
            ThreePointArc((-16, -7), (-15.646446609, -6.853553391), (-15.5, -6.5))
            Line((-15.5, -6.5), (-15.5, -5))
            ThreePointArc((-15.5, -5), (-15.792893219, -4.292893219), (-16.5, -4))
            Line((-16.5, -4), (-18.5, -4))
            ThreePointArc((-18.5, -4), (-19.560660172, -4.439339828), (-20, -5.5))
            Line((-20, -5.5), (-20, -17))
            ThreePointArc((-20, -17), (-19.121320344, -19.121320344), (-17, -20))
            Line((-17, -20), (-5.5, -20))
            ThreePointArc((-5.5, -20), (-4.439339828, -19.560660172), (-4, -18.5))
            Line((-4, -18.5), (-4, -16.5))
            ThreePointArc((-4, -16.5), (-4.292893219, -15.792893219), (-5, -15.5))
            Line((-5, -15.5), (-6.5, -15.5))
            ThreePointArc((-6.5, -15.5), (-6.853553391, -15.646446609), (-7, -16))
            ThreePointArc((-7, -16), (-7.292893219, -16.707106781), (-8, -17))
            Line((-8, -17), (-9, -17))
            ThreePointArc((-9, -17), (-9.707106781, -16.707106781), (-10, -16))
            Line((-10, -16), (-10, -12.332106781))
            ThreePointArc((-10, -12.332106781), (-9.961939766, -12.140765065), (-9.853553391, -11.978553391))
        make_face()
        Circle(SKETCH1_R, mode=Mode.SUBTRACT)
        with BuildLine():
            Line((-17, 11.78), (-13, 11.78))
            ThreePointArc((-13, 11.78), (-12.137329727, 12.137329727), (-11.78, 13))
            Line((-11.78, 13), (-11.78, 17))
            ThreePointArc((-11.78, 17), (-12.137329727, 17.862670273), (-13, 18.22))
            Line((-13, 18.22), (-17, 18.22))
            ThreePointArc((-17, 18.22), (-17.862670273, 17.862670273), (-18.22, 17))
            Line((-18.22, 17), (-18.22, 13))
            ThreePointArc((-18.22, 13), (-17.862670273, 12.137329727), (-17, 11.78))
        make_face(mode=Mode.SUBTRACT)
        with BuildLine():
            Line((-18.22, -13), (-18.22, -17))
            ThreePointArc((-18.22, -17), (-17.862670273, -17.862670273), (-17, -18.22))
            Line((-17, -18.22), (-13, -18.22))
            ThreePointArc((-13, -18.22), (-12.137329727, -17.862670273), (-11.78, -17))
            Line((-11.78, -17), (-11.78, -13))
            ThreePointArc((-11.78, -13), (-12.137329727, -12.137329727), (-13, -11.78))
            Line((-13, -11.78), (-17, -11.78))
            ThreePointArc((-17, -11.78), (-17.862670273, -12.137329727), (-18.22, -13))
        make_face(mode=Mode.SUBTRACT)
        with BuildLine():
            Line((13, -18.22), (17, -18.22))
            ThreePointArc((17, -18.22), (17.862670273, -17.862670273), (18.22, -17))
            Line((18.22, -17), (18.22, -13))
            ThreePointArc((18.22, -13), (17.862670273, -12.137329727), (17, -11.78))
            Line((17, -11.78), (13, -11.78))
            ThreePointArc((13, -11.78), (12.137329727, -12.137329727), (11.78, -13))
            Line((11.78, -13), (11.78, -17))
            ThreePointArc((11.78, -17), (12.137329727, -17.862670273), (13, -18.22))
        make_face(mode=Mode.SUBTRACT)
        with BuildLine():
            Line((18.22, 13), (18.22, 17))
            ThreePointArc((18.22, 17), (17.862670273, 17.862670273), (17, 18.22))
            Line((17, 18.22), (13, 18.22))
            ThreePointArc((13, 18.22), (12.137329727, 17.862670273), (11.78, 17))
            Line((11.78, 17), (11.78, 13))
            ThreePointArc((11.78, 13), (12.137329727, 12.137329727), (13, 11.78))
            Line((13, 11.78), (17, 11.78))
            ThreePointArc((17, 11.78), (17.862670273, 12.137329727), (18.22, 13))
        make_face(mode=Mode.SUBTRACT)
    extrude(amount=BOSS_EXTRUDE1_DEPTH)


solid = part.part
